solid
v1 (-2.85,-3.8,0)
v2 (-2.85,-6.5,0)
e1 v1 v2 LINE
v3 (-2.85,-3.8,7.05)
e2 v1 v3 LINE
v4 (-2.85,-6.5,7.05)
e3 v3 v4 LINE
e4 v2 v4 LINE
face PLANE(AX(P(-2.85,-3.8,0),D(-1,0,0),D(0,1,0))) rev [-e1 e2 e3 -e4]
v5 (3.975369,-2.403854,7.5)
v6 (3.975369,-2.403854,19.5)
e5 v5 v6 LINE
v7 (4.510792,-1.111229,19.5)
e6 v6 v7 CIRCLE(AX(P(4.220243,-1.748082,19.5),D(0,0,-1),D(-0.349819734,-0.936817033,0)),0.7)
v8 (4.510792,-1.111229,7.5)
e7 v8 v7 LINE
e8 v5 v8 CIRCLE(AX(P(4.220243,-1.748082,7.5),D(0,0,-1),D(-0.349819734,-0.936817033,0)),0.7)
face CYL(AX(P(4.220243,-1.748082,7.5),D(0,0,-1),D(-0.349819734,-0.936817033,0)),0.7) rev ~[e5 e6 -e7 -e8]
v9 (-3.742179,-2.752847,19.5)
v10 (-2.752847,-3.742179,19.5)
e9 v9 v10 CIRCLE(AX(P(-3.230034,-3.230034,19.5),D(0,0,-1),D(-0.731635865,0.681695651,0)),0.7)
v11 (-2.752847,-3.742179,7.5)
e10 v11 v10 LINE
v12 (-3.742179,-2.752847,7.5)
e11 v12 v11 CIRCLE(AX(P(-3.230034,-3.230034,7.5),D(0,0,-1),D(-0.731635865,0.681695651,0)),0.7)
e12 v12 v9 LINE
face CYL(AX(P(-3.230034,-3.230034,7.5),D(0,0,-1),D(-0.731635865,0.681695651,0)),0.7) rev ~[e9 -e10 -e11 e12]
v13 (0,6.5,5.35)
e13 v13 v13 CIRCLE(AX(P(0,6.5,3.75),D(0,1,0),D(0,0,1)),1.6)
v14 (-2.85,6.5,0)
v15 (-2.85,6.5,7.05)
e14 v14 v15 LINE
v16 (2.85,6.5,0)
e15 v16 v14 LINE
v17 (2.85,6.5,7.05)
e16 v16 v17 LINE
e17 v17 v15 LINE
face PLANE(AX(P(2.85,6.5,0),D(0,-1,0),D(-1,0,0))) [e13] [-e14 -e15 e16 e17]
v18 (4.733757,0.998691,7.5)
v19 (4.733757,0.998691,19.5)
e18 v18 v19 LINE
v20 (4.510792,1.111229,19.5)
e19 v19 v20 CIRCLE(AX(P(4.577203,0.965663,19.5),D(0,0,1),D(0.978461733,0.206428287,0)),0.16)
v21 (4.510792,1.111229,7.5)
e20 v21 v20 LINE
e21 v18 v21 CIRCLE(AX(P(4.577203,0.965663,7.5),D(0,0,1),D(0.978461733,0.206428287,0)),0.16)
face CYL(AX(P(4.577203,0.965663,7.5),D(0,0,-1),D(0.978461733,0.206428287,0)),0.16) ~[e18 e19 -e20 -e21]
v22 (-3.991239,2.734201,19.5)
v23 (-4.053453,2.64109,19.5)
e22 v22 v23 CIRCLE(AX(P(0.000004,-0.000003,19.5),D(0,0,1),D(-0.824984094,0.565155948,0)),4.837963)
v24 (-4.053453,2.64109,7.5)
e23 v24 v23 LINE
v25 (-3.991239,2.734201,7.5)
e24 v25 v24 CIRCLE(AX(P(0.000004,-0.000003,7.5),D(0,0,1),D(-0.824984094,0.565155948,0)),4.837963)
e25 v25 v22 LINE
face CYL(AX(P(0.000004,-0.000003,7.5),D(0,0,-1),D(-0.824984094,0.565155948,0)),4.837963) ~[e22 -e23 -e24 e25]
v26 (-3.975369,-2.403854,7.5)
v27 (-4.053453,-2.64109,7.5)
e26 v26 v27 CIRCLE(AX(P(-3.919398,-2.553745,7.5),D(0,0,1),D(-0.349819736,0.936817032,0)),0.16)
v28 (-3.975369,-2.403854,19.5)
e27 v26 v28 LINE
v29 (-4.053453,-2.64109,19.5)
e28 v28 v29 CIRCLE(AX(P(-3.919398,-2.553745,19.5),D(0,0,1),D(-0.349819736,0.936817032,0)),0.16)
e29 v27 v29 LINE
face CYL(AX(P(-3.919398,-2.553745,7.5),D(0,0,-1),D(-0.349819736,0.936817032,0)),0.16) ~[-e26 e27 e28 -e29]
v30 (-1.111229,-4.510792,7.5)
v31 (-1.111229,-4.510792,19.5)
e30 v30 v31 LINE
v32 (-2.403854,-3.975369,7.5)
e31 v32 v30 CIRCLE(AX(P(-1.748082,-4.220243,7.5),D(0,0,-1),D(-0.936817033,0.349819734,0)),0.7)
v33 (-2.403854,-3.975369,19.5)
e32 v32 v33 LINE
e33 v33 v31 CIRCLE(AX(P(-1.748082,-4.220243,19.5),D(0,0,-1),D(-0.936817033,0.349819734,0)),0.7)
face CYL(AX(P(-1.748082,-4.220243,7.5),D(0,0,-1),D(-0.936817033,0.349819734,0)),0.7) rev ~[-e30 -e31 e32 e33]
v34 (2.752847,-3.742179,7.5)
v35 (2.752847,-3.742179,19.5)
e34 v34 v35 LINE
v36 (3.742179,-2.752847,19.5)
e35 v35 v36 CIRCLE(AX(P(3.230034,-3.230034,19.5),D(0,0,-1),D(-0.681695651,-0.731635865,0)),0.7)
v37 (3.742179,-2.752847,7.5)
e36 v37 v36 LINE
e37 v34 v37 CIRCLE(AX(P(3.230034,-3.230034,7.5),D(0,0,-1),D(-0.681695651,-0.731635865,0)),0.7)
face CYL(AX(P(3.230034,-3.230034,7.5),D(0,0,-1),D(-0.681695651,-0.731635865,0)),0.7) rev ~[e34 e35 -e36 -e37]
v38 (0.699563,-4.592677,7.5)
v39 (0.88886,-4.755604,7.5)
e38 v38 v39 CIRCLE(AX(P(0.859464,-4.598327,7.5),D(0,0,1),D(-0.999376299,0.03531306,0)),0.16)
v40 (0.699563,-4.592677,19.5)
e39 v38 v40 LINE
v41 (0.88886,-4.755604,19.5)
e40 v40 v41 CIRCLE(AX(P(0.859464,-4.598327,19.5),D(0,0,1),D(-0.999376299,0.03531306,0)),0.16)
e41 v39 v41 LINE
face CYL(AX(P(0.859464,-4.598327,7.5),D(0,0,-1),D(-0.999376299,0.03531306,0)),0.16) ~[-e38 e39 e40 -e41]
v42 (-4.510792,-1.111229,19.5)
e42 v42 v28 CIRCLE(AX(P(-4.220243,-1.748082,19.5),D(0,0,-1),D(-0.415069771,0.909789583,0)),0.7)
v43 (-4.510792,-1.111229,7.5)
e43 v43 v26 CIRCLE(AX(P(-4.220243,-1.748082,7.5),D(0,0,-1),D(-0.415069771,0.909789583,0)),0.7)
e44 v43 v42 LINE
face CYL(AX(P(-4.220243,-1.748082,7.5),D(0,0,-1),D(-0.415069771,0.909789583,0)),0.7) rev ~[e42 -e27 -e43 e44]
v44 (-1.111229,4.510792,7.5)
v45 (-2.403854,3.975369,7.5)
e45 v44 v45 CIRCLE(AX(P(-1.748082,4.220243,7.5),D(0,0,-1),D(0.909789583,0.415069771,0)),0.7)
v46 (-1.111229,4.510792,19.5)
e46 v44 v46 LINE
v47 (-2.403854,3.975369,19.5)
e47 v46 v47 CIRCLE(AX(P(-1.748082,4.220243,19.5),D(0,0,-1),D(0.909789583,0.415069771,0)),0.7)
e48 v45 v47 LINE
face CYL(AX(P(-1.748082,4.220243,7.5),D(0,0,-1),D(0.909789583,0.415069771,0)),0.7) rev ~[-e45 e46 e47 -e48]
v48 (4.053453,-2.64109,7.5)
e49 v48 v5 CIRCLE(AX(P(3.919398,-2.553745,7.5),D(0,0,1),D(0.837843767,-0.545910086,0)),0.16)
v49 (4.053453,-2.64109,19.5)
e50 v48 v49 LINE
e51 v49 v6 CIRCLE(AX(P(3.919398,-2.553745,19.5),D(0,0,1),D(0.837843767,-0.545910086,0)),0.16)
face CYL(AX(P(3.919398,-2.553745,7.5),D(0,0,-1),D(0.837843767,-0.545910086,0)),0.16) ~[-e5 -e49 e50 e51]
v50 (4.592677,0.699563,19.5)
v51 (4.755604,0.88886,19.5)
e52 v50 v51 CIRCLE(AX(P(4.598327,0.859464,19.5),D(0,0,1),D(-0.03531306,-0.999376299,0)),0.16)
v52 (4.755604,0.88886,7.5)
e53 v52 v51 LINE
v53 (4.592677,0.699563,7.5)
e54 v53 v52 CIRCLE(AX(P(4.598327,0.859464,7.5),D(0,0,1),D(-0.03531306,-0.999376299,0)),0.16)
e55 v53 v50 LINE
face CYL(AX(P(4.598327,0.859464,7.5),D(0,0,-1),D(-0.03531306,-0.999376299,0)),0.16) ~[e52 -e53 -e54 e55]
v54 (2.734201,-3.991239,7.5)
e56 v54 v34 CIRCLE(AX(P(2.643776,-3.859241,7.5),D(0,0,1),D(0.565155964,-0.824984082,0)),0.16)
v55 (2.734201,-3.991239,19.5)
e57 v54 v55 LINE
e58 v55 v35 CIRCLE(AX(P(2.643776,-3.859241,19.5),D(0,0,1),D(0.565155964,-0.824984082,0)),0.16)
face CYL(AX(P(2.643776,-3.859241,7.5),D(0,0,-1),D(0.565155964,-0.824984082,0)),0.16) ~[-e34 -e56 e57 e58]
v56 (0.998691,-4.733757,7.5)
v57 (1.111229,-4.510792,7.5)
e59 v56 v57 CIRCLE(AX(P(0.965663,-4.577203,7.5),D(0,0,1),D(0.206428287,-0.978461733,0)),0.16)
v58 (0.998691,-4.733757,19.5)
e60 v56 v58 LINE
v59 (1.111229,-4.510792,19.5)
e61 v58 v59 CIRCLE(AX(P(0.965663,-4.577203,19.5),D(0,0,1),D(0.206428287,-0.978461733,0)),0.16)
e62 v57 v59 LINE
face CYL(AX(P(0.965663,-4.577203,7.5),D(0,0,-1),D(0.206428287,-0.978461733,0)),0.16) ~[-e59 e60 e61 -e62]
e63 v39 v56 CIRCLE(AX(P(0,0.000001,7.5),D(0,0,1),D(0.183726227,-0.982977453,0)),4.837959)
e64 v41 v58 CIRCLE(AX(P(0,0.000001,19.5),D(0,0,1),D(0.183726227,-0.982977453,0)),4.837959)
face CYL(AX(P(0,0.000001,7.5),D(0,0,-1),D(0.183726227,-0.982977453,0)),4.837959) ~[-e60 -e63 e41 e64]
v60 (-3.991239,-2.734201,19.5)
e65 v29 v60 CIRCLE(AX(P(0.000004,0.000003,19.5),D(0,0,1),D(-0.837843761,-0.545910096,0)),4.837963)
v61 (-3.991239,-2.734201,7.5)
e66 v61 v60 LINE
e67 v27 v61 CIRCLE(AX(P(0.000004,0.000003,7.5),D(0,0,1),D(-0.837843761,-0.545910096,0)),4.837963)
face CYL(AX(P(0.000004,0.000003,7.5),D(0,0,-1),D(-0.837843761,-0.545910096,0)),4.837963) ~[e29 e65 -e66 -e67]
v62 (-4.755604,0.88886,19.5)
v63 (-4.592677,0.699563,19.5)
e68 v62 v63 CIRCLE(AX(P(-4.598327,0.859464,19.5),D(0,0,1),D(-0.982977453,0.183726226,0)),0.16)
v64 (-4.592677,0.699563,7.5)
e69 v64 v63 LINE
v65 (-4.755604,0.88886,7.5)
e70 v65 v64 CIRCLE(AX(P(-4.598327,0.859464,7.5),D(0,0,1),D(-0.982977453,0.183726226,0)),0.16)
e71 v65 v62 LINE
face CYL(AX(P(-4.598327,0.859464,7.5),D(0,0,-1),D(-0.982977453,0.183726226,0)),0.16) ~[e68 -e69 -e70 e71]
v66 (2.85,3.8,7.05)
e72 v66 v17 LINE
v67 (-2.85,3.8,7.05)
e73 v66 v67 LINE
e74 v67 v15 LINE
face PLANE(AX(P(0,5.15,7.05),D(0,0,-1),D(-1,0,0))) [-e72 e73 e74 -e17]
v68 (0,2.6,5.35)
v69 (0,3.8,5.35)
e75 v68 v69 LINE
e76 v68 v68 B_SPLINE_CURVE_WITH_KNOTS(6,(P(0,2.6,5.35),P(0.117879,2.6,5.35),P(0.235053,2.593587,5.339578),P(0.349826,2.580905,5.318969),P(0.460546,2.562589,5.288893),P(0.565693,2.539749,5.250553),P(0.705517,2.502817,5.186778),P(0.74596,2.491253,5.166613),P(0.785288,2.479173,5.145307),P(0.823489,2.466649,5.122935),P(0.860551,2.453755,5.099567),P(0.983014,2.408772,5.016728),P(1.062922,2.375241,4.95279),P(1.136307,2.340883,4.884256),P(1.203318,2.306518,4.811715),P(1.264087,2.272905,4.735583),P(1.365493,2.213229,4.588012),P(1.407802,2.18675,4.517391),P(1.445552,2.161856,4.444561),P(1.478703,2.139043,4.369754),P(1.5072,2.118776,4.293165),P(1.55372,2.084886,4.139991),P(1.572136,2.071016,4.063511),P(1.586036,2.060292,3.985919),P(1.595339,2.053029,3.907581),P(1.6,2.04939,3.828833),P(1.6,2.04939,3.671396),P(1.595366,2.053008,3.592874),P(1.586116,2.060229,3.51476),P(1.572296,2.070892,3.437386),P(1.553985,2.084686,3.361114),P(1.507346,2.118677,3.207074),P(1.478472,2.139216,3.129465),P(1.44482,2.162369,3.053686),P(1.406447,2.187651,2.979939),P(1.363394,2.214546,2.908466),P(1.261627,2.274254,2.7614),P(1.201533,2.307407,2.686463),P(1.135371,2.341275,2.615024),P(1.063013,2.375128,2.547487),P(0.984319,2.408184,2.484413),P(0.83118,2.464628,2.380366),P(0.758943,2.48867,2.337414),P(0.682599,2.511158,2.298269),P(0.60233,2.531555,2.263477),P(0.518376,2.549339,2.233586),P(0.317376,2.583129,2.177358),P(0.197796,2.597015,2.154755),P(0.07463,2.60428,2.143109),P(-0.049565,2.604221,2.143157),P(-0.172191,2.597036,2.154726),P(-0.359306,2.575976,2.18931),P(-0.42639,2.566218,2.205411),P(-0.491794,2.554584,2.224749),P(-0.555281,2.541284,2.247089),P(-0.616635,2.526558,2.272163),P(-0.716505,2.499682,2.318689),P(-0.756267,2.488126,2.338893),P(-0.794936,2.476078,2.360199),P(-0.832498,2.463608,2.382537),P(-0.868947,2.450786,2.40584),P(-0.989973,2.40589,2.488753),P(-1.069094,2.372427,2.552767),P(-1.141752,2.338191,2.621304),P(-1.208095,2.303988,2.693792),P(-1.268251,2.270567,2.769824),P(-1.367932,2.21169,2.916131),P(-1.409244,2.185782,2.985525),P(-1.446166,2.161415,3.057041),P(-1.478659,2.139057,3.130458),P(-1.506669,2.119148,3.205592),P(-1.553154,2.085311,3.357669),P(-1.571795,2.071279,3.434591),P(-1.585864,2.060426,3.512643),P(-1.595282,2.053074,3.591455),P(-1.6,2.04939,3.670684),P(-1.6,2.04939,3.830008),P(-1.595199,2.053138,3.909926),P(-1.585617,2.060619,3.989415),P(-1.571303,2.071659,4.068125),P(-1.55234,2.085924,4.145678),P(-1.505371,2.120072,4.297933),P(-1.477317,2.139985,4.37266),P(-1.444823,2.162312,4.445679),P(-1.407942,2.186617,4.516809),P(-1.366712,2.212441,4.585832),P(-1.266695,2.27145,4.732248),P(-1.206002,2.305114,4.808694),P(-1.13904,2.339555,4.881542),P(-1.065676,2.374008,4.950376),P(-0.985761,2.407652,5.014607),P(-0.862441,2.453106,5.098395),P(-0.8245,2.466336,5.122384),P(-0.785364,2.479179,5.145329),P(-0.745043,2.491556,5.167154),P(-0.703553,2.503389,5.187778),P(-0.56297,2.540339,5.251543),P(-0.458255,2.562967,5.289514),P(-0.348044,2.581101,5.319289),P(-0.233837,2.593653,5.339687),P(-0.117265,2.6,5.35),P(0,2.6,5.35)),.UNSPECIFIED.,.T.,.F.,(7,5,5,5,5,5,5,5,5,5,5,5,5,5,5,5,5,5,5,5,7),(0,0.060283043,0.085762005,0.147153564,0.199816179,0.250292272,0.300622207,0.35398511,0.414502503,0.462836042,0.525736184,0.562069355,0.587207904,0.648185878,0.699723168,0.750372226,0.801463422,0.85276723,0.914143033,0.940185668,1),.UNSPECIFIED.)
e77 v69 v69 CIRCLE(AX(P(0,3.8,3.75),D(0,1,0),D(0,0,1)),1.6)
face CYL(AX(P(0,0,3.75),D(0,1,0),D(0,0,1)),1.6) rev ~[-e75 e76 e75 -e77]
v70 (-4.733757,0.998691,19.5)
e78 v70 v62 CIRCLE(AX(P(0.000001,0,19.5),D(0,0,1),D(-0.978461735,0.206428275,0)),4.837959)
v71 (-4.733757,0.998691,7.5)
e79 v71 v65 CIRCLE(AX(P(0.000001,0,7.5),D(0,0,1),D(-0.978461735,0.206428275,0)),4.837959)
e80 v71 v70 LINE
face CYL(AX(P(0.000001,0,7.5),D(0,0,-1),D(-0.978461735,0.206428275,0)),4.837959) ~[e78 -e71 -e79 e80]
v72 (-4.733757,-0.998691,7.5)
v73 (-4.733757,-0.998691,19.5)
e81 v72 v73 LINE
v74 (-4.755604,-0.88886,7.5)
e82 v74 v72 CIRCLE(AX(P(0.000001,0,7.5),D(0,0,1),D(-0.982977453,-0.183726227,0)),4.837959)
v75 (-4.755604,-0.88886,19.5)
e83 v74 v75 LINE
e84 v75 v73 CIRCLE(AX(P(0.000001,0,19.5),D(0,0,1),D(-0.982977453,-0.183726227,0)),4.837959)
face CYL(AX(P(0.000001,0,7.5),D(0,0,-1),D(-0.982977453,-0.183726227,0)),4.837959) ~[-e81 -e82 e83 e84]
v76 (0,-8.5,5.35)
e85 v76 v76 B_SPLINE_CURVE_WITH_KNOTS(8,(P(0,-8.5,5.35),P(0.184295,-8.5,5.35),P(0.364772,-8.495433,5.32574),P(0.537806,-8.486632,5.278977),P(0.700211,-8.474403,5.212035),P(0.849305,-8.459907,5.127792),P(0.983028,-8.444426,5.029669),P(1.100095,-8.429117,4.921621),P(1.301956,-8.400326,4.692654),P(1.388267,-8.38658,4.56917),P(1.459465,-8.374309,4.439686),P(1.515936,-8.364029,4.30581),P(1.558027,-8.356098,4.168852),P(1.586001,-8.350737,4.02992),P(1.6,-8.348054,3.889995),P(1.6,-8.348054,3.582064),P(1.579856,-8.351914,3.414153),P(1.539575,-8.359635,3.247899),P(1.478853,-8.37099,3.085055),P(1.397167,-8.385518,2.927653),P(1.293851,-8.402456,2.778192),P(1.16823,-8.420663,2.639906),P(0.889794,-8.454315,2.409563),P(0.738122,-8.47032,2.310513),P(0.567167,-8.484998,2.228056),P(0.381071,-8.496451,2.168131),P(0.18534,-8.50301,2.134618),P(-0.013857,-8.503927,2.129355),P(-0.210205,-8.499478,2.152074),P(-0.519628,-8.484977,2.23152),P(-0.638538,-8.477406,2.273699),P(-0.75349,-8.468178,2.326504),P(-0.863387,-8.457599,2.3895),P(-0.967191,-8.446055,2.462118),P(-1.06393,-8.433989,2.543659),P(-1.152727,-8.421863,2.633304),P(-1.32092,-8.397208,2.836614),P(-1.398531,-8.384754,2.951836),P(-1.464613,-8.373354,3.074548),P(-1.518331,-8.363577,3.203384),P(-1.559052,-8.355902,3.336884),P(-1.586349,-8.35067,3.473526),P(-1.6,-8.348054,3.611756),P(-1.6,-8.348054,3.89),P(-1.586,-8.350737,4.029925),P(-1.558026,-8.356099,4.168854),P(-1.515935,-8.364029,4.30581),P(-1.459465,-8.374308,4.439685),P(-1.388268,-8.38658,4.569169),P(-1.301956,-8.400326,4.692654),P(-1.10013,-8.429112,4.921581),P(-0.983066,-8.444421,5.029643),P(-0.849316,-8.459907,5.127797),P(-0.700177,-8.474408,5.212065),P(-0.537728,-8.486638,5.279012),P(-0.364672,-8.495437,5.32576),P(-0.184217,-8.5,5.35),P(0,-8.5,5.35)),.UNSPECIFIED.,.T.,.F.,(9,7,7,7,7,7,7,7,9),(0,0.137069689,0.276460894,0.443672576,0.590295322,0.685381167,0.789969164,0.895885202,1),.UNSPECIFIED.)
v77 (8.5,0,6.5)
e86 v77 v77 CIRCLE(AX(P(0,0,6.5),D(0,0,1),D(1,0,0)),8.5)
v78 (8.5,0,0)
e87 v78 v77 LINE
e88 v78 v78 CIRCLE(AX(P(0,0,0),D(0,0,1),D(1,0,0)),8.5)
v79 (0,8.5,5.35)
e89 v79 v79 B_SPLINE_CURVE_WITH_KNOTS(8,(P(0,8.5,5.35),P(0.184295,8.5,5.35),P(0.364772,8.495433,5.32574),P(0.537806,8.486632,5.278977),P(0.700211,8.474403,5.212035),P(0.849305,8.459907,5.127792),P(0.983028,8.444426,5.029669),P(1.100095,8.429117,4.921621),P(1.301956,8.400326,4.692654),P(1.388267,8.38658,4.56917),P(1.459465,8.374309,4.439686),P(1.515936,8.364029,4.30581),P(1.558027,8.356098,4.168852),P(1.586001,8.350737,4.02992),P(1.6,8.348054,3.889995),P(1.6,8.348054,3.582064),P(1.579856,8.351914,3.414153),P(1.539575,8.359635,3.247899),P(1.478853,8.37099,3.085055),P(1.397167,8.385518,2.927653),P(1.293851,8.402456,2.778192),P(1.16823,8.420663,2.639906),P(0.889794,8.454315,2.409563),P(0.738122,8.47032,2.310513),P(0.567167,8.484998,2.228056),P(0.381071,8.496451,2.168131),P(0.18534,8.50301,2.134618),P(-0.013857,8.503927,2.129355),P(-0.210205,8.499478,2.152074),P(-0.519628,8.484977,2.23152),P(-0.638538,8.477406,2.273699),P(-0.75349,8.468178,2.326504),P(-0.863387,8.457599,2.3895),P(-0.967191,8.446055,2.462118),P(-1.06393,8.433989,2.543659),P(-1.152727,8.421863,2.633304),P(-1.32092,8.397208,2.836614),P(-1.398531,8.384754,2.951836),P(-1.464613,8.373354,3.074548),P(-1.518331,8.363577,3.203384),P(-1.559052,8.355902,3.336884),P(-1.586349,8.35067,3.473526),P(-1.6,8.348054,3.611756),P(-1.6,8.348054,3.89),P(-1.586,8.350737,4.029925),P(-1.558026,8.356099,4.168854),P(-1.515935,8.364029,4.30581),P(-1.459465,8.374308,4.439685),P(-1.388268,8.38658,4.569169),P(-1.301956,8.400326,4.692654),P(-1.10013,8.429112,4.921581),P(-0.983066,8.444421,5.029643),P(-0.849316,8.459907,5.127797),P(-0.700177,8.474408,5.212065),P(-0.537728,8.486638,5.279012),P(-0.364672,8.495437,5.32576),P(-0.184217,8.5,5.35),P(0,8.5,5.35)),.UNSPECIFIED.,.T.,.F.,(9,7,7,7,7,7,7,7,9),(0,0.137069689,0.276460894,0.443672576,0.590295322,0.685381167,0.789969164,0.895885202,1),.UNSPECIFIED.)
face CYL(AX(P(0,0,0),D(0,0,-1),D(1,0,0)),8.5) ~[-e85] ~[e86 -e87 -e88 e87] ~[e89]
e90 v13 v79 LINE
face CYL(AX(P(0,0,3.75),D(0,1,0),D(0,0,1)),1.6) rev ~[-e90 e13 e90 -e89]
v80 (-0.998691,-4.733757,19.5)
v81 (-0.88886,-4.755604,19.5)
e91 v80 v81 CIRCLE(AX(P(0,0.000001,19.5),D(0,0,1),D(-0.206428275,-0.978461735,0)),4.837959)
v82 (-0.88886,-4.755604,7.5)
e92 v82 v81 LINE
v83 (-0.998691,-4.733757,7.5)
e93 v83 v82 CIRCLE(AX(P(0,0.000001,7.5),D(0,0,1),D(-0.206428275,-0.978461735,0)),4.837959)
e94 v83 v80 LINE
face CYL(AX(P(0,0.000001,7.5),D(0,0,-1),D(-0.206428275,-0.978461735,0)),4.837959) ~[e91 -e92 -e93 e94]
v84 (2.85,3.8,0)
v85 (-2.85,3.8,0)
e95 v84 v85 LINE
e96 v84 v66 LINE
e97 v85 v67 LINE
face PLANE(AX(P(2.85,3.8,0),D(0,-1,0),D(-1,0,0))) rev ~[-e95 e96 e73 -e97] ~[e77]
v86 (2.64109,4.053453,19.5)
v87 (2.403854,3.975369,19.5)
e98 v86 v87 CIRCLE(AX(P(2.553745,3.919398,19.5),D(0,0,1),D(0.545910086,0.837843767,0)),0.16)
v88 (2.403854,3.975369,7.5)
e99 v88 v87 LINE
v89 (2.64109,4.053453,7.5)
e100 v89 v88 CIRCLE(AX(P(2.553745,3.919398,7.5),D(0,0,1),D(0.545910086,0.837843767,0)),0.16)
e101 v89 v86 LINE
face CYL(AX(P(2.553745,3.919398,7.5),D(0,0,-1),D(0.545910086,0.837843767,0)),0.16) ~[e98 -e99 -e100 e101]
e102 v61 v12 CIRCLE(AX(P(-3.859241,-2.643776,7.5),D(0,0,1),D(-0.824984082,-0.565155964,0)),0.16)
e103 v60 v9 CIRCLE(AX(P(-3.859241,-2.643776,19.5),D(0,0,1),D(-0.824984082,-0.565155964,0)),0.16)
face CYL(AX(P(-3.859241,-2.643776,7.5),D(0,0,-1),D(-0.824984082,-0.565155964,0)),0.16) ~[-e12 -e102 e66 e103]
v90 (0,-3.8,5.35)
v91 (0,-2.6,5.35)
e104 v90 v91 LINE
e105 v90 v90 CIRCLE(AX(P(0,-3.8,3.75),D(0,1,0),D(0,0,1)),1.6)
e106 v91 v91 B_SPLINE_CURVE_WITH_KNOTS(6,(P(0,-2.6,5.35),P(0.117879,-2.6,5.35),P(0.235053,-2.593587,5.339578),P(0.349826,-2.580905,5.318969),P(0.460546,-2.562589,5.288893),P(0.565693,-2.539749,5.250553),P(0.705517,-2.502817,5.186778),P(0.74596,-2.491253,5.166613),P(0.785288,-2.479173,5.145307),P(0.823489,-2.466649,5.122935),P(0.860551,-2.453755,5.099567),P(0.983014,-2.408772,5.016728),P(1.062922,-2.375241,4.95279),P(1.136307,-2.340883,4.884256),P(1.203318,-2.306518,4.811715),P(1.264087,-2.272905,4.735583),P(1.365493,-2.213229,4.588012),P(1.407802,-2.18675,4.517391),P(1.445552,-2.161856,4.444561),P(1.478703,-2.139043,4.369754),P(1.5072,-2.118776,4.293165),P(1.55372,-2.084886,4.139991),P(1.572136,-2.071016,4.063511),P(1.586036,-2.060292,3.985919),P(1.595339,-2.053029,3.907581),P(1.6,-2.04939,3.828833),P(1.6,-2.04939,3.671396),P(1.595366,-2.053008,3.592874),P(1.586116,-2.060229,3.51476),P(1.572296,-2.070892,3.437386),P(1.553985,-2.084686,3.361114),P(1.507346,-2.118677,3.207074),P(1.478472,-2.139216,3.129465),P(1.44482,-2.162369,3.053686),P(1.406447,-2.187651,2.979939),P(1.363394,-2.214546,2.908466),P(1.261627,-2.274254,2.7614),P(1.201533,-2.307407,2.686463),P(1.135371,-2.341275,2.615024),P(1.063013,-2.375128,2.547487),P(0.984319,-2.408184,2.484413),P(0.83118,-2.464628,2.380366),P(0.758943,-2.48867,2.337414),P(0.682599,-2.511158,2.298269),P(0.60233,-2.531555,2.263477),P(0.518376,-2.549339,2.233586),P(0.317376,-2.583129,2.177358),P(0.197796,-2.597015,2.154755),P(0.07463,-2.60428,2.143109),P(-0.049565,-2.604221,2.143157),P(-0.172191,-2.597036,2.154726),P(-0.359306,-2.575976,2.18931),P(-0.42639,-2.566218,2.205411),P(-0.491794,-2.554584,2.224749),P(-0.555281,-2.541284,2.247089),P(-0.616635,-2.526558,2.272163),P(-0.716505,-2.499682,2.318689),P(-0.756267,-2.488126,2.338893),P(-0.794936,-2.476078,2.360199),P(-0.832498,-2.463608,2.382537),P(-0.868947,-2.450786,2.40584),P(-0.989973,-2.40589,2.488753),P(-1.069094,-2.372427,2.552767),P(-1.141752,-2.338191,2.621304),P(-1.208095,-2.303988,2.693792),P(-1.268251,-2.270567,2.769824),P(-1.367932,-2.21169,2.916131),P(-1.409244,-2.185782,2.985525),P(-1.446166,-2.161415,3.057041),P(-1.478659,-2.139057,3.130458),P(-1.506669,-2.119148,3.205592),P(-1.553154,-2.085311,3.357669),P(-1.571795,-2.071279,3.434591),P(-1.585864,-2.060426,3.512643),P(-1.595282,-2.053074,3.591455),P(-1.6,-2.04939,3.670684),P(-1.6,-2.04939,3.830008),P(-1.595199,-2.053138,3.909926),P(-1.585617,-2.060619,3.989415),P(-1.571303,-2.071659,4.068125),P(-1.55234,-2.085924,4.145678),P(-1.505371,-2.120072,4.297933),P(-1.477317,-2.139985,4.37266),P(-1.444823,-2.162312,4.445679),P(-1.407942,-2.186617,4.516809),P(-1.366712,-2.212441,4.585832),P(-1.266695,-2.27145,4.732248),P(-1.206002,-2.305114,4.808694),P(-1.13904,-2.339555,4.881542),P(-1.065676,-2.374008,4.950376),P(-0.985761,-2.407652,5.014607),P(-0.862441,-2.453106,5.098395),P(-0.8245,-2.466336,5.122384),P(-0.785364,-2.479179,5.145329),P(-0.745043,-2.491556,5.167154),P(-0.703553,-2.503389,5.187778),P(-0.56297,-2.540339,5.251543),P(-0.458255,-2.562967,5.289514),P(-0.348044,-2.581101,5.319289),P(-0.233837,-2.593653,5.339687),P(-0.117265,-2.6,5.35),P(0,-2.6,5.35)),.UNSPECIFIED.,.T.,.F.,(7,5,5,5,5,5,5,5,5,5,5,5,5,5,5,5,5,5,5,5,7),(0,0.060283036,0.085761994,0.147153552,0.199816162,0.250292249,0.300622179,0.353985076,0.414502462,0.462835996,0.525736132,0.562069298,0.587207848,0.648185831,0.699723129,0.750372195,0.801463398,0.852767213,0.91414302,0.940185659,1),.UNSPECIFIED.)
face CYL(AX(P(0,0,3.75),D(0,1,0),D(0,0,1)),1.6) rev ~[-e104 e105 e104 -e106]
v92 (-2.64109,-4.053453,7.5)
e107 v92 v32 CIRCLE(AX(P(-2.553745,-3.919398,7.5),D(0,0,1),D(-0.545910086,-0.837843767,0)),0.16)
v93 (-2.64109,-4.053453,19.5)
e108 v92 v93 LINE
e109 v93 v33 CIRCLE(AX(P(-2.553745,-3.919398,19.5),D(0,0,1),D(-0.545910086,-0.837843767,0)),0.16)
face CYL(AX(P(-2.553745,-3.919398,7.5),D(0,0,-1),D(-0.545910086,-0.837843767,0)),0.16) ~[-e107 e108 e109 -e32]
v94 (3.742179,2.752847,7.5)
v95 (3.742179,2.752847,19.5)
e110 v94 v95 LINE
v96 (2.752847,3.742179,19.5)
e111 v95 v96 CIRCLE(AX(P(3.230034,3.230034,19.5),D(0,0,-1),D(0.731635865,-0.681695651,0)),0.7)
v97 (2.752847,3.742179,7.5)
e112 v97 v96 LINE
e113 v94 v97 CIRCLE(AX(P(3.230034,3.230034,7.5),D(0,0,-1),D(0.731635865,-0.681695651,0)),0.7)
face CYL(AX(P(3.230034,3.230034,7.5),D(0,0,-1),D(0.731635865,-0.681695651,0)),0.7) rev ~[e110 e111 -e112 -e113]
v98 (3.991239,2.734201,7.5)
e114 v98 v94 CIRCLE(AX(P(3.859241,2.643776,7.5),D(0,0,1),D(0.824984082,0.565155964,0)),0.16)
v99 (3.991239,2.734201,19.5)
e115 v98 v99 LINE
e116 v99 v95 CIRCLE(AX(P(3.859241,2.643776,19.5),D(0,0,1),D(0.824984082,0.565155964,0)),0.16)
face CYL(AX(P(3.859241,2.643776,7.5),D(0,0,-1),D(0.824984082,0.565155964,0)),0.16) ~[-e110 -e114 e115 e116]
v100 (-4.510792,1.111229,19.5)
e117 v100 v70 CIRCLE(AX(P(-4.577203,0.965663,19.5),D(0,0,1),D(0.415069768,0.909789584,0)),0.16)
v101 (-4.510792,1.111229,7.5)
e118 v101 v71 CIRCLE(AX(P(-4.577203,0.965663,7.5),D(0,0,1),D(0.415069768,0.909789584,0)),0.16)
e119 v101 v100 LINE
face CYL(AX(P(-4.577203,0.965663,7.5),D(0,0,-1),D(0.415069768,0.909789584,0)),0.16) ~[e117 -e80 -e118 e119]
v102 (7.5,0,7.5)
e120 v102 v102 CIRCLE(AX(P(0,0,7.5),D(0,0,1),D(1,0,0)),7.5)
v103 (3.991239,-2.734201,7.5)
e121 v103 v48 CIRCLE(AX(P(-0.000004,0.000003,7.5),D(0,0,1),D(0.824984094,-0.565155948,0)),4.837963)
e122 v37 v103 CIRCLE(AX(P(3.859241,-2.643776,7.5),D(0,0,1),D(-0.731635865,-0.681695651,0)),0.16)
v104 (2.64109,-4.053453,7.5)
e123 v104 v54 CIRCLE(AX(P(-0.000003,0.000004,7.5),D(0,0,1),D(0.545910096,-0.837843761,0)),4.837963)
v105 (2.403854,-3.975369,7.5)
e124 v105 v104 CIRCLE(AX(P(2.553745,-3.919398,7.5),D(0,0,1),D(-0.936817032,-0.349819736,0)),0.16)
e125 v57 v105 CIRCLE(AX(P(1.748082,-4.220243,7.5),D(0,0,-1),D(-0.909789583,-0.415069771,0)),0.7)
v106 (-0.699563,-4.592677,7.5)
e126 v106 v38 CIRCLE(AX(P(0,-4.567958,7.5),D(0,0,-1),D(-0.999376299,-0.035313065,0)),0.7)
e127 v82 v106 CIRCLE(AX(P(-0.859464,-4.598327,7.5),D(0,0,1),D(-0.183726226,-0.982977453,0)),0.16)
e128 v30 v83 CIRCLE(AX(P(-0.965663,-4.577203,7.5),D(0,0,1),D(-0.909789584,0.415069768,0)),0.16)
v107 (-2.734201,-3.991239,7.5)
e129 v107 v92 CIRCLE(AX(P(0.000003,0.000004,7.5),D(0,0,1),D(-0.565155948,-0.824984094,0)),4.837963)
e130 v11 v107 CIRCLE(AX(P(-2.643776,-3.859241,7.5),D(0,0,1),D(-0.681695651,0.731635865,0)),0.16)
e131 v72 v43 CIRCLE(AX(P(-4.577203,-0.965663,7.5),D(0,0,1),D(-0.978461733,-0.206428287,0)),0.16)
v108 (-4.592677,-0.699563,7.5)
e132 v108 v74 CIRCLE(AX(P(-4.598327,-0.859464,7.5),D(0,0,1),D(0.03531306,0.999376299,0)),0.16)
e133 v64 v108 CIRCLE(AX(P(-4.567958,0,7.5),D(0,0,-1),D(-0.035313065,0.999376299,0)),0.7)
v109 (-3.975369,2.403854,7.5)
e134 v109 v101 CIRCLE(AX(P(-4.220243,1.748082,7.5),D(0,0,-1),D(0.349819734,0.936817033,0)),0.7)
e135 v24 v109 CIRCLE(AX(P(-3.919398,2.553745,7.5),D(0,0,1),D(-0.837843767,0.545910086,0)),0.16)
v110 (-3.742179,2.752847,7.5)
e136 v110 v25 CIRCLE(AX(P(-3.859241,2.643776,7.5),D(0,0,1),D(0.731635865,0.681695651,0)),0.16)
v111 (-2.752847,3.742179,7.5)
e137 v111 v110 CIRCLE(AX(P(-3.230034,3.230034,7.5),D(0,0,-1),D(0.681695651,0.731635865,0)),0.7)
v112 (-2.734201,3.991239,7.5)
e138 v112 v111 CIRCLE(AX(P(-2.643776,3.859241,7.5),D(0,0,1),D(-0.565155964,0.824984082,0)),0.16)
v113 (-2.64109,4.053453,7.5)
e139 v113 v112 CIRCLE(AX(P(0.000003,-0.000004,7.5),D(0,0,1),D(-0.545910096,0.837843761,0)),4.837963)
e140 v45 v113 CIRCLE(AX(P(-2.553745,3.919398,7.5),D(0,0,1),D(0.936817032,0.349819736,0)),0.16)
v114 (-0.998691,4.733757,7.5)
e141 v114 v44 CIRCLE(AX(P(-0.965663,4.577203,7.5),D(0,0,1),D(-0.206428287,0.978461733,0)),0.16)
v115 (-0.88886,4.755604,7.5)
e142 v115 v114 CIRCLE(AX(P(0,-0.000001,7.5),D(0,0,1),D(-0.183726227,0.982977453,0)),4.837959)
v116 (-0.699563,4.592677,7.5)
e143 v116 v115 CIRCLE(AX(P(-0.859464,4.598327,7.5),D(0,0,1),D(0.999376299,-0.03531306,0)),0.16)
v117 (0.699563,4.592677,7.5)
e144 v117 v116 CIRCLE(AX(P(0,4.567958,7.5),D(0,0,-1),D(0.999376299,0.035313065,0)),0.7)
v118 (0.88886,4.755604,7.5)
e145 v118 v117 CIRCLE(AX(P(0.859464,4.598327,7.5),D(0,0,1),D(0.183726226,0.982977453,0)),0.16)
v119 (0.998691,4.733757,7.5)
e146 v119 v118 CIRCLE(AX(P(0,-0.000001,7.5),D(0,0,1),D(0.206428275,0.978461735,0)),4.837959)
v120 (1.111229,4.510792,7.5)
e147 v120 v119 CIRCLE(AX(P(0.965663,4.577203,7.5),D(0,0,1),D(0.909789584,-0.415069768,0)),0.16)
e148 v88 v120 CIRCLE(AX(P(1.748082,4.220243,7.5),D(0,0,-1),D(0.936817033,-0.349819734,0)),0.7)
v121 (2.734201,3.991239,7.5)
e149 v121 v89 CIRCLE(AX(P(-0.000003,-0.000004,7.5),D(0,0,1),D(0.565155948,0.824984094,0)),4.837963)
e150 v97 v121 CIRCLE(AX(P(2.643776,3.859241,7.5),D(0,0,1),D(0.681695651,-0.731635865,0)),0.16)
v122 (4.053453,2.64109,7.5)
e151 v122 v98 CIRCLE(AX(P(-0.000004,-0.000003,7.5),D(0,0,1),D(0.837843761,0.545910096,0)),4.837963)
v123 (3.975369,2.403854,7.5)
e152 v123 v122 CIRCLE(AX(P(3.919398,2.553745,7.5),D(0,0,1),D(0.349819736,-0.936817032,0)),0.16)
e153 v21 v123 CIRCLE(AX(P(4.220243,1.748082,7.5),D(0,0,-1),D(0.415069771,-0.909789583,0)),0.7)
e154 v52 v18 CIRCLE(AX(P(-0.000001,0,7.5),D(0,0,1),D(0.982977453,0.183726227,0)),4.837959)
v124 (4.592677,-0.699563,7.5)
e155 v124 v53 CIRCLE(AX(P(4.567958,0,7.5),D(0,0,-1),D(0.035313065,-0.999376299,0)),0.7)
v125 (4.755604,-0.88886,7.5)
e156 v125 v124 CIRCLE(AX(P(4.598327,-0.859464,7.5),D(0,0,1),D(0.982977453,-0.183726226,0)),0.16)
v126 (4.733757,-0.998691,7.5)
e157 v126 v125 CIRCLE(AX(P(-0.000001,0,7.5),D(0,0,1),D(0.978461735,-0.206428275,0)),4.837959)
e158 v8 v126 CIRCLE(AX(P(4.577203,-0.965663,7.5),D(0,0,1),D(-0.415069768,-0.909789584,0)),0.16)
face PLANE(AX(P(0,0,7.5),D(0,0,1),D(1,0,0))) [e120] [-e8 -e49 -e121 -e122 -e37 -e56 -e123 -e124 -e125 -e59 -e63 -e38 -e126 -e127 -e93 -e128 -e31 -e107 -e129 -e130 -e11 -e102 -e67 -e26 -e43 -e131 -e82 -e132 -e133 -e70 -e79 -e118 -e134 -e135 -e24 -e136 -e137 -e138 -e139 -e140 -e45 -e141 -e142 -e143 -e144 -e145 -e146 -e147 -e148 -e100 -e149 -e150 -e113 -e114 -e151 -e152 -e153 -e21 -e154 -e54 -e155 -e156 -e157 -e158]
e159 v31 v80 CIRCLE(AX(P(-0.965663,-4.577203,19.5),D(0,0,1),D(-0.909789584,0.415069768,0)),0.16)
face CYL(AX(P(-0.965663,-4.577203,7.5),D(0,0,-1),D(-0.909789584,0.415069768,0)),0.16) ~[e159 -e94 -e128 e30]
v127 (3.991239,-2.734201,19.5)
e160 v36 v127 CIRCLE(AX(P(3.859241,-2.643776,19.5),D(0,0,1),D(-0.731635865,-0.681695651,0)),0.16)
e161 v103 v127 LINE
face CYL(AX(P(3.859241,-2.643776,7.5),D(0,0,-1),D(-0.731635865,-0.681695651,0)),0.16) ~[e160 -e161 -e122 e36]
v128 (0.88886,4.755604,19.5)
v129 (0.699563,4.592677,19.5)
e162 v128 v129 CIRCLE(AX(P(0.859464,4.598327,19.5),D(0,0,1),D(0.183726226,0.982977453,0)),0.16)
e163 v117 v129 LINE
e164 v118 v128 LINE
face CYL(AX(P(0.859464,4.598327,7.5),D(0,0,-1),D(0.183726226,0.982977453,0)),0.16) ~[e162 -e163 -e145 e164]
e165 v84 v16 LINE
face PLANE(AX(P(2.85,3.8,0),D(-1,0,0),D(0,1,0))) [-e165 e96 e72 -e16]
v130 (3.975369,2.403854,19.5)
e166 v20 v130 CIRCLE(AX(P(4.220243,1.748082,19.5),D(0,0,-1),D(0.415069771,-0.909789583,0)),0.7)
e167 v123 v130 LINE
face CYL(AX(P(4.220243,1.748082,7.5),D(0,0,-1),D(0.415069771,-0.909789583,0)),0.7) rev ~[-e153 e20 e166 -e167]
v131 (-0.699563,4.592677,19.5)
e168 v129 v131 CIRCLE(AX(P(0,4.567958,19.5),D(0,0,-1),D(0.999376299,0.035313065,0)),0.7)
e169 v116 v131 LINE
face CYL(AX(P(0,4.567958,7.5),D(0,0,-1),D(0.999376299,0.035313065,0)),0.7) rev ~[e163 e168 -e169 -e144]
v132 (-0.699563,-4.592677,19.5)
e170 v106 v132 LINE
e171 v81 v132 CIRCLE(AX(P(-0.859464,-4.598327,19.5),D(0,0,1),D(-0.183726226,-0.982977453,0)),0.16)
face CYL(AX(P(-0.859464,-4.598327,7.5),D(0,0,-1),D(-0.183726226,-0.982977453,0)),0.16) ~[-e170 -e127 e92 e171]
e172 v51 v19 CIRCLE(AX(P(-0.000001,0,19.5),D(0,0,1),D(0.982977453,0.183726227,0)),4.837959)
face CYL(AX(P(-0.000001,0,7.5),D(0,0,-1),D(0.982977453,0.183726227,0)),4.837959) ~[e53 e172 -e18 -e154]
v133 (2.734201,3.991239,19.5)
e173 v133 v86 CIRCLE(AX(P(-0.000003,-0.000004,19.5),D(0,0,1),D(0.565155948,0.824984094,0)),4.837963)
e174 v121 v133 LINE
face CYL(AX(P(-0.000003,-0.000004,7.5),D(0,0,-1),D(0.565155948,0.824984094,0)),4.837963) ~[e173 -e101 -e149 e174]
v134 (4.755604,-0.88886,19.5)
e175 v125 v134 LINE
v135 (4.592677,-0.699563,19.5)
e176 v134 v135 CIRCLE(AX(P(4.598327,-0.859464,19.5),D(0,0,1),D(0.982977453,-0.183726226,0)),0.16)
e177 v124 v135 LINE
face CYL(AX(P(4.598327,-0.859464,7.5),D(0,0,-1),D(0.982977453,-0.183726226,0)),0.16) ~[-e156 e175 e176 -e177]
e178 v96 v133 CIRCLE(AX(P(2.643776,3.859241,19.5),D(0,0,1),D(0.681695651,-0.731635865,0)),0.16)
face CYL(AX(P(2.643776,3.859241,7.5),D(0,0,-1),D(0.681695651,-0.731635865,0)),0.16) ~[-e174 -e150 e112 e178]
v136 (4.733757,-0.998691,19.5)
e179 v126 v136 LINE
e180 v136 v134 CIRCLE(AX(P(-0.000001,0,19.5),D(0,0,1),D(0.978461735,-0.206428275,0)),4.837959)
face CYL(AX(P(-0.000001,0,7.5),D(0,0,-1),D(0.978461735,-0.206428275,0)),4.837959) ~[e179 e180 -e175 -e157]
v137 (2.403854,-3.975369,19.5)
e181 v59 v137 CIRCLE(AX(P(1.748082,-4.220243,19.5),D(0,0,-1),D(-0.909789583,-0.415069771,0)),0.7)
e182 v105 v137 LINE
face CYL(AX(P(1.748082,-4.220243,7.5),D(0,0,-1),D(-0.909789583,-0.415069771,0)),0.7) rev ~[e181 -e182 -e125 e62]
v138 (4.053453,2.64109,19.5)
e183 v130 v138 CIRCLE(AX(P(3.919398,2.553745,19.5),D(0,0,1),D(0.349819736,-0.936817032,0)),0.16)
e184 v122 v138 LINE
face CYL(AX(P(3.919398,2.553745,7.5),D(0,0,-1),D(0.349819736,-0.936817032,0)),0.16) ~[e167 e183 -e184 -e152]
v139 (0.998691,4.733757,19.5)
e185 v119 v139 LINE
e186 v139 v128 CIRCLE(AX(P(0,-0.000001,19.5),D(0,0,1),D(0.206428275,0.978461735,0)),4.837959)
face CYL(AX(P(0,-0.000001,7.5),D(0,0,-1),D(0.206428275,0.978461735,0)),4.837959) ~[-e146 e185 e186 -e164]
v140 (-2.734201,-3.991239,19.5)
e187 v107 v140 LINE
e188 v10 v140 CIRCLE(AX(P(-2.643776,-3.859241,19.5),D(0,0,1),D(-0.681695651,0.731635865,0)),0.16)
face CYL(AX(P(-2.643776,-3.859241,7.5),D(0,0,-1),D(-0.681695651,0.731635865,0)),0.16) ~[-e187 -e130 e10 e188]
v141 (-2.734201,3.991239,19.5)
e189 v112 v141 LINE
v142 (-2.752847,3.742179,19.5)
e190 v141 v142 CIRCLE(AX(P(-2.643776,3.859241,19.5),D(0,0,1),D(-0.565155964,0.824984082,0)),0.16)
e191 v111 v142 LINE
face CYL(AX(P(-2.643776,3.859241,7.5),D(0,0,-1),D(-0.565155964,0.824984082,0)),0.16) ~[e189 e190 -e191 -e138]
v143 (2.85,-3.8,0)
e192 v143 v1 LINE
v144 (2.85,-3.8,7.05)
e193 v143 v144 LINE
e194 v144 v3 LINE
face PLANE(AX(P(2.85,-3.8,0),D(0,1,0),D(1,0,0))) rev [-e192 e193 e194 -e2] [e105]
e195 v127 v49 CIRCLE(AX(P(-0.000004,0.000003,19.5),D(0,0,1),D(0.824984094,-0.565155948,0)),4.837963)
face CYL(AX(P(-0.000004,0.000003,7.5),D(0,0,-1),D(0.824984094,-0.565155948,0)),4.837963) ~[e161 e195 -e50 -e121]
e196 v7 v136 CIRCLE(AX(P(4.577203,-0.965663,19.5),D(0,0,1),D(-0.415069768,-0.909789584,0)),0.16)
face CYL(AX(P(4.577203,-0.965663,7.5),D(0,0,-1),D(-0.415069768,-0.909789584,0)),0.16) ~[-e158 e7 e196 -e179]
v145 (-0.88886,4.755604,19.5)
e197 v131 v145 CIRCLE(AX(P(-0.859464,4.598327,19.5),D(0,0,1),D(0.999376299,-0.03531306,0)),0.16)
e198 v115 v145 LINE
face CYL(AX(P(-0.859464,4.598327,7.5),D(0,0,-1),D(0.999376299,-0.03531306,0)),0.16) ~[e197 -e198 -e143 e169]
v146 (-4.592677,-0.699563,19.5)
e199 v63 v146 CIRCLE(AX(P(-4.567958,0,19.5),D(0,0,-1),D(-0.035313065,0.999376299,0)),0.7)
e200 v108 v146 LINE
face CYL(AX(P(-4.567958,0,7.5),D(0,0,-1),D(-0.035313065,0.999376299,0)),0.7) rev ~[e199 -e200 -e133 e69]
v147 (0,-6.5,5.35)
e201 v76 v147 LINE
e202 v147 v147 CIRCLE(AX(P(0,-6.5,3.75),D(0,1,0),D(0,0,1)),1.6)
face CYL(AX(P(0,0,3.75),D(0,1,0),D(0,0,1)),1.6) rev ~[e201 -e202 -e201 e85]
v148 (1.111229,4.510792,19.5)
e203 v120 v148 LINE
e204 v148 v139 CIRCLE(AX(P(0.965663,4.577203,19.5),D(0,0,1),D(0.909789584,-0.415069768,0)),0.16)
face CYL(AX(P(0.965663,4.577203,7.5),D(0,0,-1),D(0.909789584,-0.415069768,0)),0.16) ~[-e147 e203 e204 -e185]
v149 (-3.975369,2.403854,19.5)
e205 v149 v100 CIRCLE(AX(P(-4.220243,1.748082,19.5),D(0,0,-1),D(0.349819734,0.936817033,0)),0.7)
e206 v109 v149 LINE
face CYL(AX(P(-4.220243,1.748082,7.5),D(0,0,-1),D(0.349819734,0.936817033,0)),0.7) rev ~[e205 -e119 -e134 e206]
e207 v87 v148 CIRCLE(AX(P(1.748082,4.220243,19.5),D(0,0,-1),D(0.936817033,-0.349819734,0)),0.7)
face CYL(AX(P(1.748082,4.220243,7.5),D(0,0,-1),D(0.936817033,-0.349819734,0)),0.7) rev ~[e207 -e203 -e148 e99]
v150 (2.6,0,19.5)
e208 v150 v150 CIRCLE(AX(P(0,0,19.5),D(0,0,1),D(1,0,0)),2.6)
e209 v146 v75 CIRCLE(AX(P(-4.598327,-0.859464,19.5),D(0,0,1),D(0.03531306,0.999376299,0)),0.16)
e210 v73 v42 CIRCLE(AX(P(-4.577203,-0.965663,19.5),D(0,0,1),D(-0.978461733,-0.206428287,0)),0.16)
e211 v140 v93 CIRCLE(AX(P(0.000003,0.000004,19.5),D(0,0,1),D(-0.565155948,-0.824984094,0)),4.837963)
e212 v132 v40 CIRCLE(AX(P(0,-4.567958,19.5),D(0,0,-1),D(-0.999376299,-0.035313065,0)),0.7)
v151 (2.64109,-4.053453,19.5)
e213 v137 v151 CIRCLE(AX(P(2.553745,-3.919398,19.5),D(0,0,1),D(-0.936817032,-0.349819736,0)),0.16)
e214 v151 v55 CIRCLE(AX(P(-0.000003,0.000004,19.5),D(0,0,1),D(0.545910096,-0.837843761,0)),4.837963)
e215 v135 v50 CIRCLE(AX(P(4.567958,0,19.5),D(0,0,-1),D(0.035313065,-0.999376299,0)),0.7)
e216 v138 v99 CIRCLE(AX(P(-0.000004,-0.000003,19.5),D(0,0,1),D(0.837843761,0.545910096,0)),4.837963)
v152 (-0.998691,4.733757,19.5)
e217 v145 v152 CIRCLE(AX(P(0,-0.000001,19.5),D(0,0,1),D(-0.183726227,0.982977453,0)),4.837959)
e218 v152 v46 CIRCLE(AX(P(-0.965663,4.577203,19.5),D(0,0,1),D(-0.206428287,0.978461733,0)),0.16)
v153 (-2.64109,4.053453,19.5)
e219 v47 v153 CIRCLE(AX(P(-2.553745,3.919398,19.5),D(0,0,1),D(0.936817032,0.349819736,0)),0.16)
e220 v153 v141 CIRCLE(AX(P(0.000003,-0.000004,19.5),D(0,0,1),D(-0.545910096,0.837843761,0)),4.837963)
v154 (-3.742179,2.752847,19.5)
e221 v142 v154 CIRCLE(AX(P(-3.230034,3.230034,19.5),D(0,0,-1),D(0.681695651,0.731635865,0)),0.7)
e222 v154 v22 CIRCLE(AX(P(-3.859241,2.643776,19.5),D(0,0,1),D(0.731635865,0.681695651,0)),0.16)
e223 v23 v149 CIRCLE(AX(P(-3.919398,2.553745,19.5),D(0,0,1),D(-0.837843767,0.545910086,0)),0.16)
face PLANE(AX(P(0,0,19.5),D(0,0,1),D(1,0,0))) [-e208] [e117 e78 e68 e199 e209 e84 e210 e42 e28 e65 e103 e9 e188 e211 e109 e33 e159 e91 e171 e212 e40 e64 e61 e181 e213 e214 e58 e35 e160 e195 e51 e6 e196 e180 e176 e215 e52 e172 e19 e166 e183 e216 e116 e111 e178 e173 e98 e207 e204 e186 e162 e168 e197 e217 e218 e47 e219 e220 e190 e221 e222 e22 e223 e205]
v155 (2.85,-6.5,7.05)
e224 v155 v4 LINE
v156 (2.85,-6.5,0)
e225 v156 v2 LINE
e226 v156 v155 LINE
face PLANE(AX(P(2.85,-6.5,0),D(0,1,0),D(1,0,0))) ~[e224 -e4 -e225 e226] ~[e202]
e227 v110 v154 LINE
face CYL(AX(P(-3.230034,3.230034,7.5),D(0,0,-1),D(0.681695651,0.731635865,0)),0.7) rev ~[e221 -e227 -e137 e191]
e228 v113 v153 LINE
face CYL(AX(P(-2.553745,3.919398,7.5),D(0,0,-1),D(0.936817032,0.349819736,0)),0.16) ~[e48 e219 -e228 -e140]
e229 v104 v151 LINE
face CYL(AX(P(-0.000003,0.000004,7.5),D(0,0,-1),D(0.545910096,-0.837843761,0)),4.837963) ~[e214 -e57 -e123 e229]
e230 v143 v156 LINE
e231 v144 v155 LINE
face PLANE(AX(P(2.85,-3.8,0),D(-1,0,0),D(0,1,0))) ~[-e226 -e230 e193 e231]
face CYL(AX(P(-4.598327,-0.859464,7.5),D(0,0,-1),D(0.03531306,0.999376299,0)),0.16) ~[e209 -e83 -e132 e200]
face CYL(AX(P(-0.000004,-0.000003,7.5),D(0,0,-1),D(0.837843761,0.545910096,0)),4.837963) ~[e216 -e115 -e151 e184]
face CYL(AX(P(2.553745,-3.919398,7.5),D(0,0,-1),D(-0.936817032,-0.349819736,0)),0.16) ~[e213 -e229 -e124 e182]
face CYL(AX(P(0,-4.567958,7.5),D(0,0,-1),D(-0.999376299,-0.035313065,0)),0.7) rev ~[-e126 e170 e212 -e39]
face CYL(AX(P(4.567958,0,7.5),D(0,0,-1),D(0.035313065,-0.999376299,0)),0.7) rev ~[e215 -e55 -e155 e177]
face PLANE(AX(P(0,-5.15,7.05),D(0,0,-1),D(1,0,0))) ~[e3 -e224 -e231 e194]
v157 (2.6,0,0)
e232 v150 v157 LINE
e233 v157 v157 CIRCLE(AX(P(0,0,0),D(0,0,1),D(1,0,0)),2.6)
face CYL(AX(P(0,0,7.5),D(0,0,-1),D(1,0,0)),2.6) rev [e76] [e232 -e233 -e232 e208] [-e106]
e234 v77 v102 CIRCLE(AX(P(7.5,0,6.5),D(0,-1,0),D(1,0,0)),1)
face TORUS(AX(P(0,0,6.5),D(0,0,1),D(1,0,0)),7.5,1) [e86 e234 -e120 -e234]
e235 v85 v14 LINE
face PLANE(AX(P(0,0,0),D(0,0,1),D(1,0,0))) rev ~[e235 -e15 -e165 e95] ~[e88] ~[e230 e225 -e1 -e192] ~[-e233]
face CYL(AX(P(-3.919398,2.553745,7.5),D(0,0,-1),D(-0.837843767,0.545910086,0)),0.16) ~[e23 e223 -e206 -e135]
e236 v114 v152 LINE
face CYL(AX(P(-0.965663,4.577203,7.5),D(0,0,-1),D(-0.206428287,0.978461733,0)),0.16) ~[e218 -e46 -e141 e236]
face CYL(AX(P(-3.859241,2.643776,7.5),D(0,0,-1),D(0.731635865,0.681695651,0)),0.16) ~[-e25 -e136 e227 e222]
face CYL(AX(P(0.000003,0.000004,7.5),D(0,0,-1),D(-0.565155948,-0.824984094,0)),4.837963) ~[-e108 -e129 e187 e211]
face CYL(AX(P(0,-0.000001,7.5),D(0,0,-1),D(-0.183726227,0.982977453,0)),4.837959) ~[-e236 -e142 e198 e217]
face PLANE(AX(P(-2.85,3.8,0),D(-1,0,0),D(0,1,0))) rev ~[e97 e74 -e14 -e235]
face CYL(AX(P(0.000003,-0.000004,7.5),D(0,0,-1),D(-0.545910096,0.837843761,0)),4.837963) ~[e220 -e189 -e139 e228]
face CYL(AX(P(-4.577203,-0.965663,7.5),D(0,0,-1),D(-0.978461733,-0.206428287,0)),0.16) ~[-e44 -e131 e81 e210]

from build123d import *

# Parameters (mm, degrees)
SKETCH_1_R          = 8.5
SKETCH_1_R_2        = 2.6
EXTRUDE_1_DEPTH     = 7.5
FILLET_1_R          = 1
SKETCH_6_R          = 2.6
EXTRUDE_2_DEPTH     = 12
SKETCH_4_R          = 1.6
CUT_EXTRUDE_1_DEPTH = 23.907422415
SKETCH_5_W          = 5.7
SKETCH_5_H          = 2.7
CUT_EXTRUDE_2_DEPTH = 7.05


with BuildPart() as part:
    # 草图1 → 凸台-拉伸1 (new body)
    with BuildSketch(Plane.XY):
        Circle(SKETCH_1_R)
        Circle(SKETCH_1_R_2, mode=Mode.SUBTRACT)
    extrude(amount=EXTRUDE_1_DEPTH)

    # 圆角1
    fillet_1_edges = [part.edges().sort_by_distance(p)[0] for p in [
        (-8.5, 0, 7.5),
    ]]
    fillet(fillet_1_edges, radius=FILLET_1_R)

    # 草图6 → 凸台-拉伸2 (add)
    with BuildSketch(Plane.XY.offset(7.5)):
        with BuildLine():
            ThreePointArc((-0.888859814, 4.755603807), (-0.943838819, 4.744998169), (-0.998691399, 4.733756947))
            ThreePointArc((-0.998691399, 4.733756947), (-1.108499785, 4.649297568), (-1.111229207, 4.510791906))
            ThreePointArc((-1.111229207, 4.510791906), (-1.480203512, 3.573527394), (-2.403853838, 3.975369253))
            ThreePointArc((-2.403853838, 3.975369253), (-2.503722124, 4.071377553), (-2.641090177, 4.053453098))
            ThreePointArc((-2.641090177, 4.053453098), (-2.687825553, 4.022615211), (-2.734200899, 3.991238503))
            ThreePointArc((-2.734200899, 3.991238503), (-2.803329414, 3.871186362), (-2.752847249, 3.742179311))
            ThreePointArc((-2.752847249, 3.742179311), (-2.735059458, 2.735059458), (-3.742179311, 2.752847249))
            ThreePointArc((-3.742179311, 2.752847249), (-3.871186362, 2.803329414), (-3.991238503, 2.734200899))
            ThreePointArc((-3.991238503, 2.734200899), (-4.022615211, 2.687825553), (-4.053453098, 2.641090177))
            ThreePointArc((-4.053453098, 2.641090177), (-4.071377553, 2.503722124), (-3.975369253, 2.403853838))
            ThreePointArc((-3.975369253, 2.403853838), (-3.573527394, 1.480203512), (-4.510791906, 1.111229207))
            ThreePointArc((-4.510791906, 1.111229207), (-4.649297568, 1.108499785), (-4.733756947, 0.998691399))
            ThreePointArc((-4.733756947, 0.998691399), (-4.744998169, 0.943838819), (-4.755603807, 0.888859814))
            ThreePointArc((-4.755603807, 0.888859814), (-4.719595366, 0.755088889), (-4.592677324, 0.699563409))
            ThreePointArc((-4.592677324, 0.699563409), (-3.867958179, 0), (-4.592677324, -0.699563409))
            ThreePointArc((-4.592677324, -0.699563409), (-4.719595366, -0.755088889), (-4.755603807, -0.888859814))
            ThreePointArc((-4.755603807, -0.888859814), (-4.744998169, -0.943838819), (-4.733756947, -0.998691399))
            ThreePointArc((-4.733756947, -0.998691399), (-4.649297568, -1.108499785), (-4.510791906, -1.111229207))
            ThreePointArc((-4.510791906, -1.111229207), (-3.573527394, -1.480203512), (-3.975369253, -2.403853838))
            ThreePointArc((-3.975369253, -2.403853838), (-4.071377553, -2.503722124), (-4.053453098, -2.641090177))
            ThreePointArc((-4.053453098, -2.641090177), (-4.022615211, -2.687825553), (-3.991238503, -2.734200899))
            ThreePointArc((-3.991238503, -2.734200899), (-3.871186362, -2.803329414), (-3.742179311, -2.752847249))
            ThreePointArc((-3.742179311, -2.752847249), (-2.735059458, -2.735059458), (-2.752847249, -3.742179311))
            ThreePointArc((-2.752847249, -3.742179311), (-2.803329414, -3.871186362), (-2.734200899, -3.991238503))
            ThreePointArc((-2.734200899, -3.991238503), (-2.687825553, -4.022615211), (-2.641090177, -4.053453098))
            ThreePointArc((-2.641090177, -4.053453098), (-2.503722124, -4.071377553), (-2.403853838, -3.975369253))
            ThreePointArc((-2.403853838, -3.975369253), (-1.480203512, -3.573527394), (-1.111229207, -4.510791906))
            ThreePointArc((-1.111229207, -4.510791906), (-1.108499785, -4.649297568), (-0.998691399, -4.733756947))
            ThreePointArc((-0.998691399, -4.733756947), (-0.943838819, -4.744998169), (-0.888859814, -4.755603807))
            ThreePointArc((-0.888859814, -4.755603807), (-0.755088889, -4.719595366), (-0.699563409, -4.592677324))
            ThreePointArc((-0.699563409, -4.592677324), (0, -3.867958179), (0.699563409, -4.592677324))
            ThreePointArc((0.699563409, -4.592677324), (0.755088889, -4.719595366), (0.888859814, -4.755603807))
            ThreePointArc((0.888859814, -4.755603807), (0.943838819, -4.744998169), (0.998691399, -4.733756947))
            ThreePointArc((0.998691399, -4.733756947), (1.108499785, -4.649297568), (1.111229207, -4.510791906))
            ThreePointArc((1.111229207, -4.510791906), (1.480203512, -3.573527394), (2.403853838, -3.975369253))
            ThreePointArc((2.403853838, -3.975369253), (2.503722124, -4.071377553), (2.641090177, -4.053453098))
            ThreePointArc((2.641090177, -4.053453098), (2.687825553, -4.022615211), (2.734200899, -3.991238503))
            ThreePointArc((2.734200899, -3.991238503), (2.803329414, -3.871186362), (2.752847249, -3.742179311))
            ThreePointArc((2.752847249, -3.742179311), (2.735059458, -2.735059458), (3.742179311, -2.752847249))
            ThreePointArc((3.742179311, -2.752847249), (3.871186362, -2.803329414), (3.991238503, -2.734200899))
            ThreePointArc((3.991238503, -2.734200899), (4.022615211, -2.687825553), (4.053453098, -2.641090177))
            ThreePointArc((4.053453098, -2.641090177), (4.071377553, -2.503722124), (3.975369253, -2.403853838))
            ThreePointArc((3.975369253, -2.403853838), (3.573527394, -1.480203512), (4.510791906, -1.111229207))
            ThreePointArc((4.510791906, -1.111229207), (4.649297568, -1.108499785), (4.733756947, -0.998691399))
            ThreePointArc((4.733756947, -0.998691399), (4.744998169, -0.943838819), (4.755603807, -0.888859814))
            ThreePointArc((4.755603807, -0.888859814), (4.719595366, -0.755088889), (4.592677324, -0.699563409))
            ThreePointArc((4.592677324, -0.699563409), (3.867958179, 0), (4.592677324, 0.699563409))
            ThreePointArc((4.592677324, 0.699563409), (4.719595366, 0.755088889), (4.755603807, 0.888859814))
            ThreePointArc((4.755603807, 0.888859814), (4.744998169, 0.943838819), (4.733756947, 0.998691399))
            ThreePointArc((4.733756947, 0.998691399), (4.649297568, 1.108499785), (4.510791906, 1.111229207))
            ThreePointArc((4.510791906, 1.111229207), (3.573527394, 1.480203512), (3.975369253, 2.403853838))
            ThreePointArc((3.975369253, 2.403853838), (4.071377553, 2.503722124), (4.053453098, 2.641090177))
            ThreePointArc((4.053453098, 2.641090177), (4.022615211, 2.687825553), (3.991238503, 2.734200899))
            ThreePointArc((3.991238503, 2.734200899), (3.871186362, 2.803329414), (3.742179311, 2.752847249))
            ThreePointArc((3.742179311, 2.752847249), (2.735059458, 2.735059458), (2.752847249, 3.742179311))
            ThreePointArc((2.752847249, 3.742179311), (2.803329414, 3.871186362), (2.734200899, 3.991238503))
            ThreePointArc((2.734200899, 3.991238503), (2.687825553, 4.022615211), (2.641090177, 4.053453098))
            ThreePointArc((2.641090177, 4.053453098), (2.503722124, 4.071377553), (2.403853838, 3.975369253))
            ThreePointArc((2.403853838, 3.975369253), (1.480203512, 3.573527394), (1.111229207, 4.510791906))
            ThreePointArc((1.111229207, 4.510791906), (1.108499785, 4.649297568), (0.998691399, 4.733756947))
            ThreePointArc((0.998691399, 4.733756947), (0.943838819, 4.744998169), (0.888859814, 4.755603807))
            ThreePointArc((0.888859814, 4.755603807), (0.755088889, 4.719595366), (0.699563409, 4.592677324))
            ThreePointArc((0.699563409, 4.592677324), (0, 3.867958179), (-0.699563409, 4.592677324))
            ThreePointArc((-0.699563409, 4.592677324), (-0.755088889, 4.719595366), (-0.888859814, 4.755603807))
        make_face()
        Circle(SKETCH_6_R, mode=Mode.SUBTRACT)
    extrude(amount=EXTRUDE_2_DEPTH)

    # 草图4 → 切除-拉伸1 (cut, symmetric)
    with BuildSketch(Plane(origin=(0, 0, 0), x_dir=(1, 0, 0), z_dir=(0, 1, 0))):
        with Locations(Location((0, -3.75, 0), (0, 0, 270))):
            Circle(SKETCH_4_R)
    cut_extrude_1 = extrude(amount=CUT_EXTRUDE_1_DEPTH, both=True, mode=Mode.SUBTRACT)

    # 草图5 → 切除-拉伸2 (cut)
    with BuildSketch(Plane(origin=(0, 0, 0), x_dir=(-1, 0, 0), z_dir=(0, 0, -1))):
        with Locations((0, 5.15)):
            Rectangle(SKETCH_5_W, SKETCH_5_H)
    cut_extrude_2 = extrude(amount=-CUT_EXTRUDE_2_DEPTH, mode=Mode.SUBTRACT)

    # 镜向1: 切除-拉伸1, 切除-拉伸2 across plane
    add(cut_extrude_1.mirror(Plane.ZX), mode=Mode.SUBTRACT)
    add(cut_extrude_2.mirror(Plane.ZX), mode=Mode.SUBTRACT)


solid = part.part
